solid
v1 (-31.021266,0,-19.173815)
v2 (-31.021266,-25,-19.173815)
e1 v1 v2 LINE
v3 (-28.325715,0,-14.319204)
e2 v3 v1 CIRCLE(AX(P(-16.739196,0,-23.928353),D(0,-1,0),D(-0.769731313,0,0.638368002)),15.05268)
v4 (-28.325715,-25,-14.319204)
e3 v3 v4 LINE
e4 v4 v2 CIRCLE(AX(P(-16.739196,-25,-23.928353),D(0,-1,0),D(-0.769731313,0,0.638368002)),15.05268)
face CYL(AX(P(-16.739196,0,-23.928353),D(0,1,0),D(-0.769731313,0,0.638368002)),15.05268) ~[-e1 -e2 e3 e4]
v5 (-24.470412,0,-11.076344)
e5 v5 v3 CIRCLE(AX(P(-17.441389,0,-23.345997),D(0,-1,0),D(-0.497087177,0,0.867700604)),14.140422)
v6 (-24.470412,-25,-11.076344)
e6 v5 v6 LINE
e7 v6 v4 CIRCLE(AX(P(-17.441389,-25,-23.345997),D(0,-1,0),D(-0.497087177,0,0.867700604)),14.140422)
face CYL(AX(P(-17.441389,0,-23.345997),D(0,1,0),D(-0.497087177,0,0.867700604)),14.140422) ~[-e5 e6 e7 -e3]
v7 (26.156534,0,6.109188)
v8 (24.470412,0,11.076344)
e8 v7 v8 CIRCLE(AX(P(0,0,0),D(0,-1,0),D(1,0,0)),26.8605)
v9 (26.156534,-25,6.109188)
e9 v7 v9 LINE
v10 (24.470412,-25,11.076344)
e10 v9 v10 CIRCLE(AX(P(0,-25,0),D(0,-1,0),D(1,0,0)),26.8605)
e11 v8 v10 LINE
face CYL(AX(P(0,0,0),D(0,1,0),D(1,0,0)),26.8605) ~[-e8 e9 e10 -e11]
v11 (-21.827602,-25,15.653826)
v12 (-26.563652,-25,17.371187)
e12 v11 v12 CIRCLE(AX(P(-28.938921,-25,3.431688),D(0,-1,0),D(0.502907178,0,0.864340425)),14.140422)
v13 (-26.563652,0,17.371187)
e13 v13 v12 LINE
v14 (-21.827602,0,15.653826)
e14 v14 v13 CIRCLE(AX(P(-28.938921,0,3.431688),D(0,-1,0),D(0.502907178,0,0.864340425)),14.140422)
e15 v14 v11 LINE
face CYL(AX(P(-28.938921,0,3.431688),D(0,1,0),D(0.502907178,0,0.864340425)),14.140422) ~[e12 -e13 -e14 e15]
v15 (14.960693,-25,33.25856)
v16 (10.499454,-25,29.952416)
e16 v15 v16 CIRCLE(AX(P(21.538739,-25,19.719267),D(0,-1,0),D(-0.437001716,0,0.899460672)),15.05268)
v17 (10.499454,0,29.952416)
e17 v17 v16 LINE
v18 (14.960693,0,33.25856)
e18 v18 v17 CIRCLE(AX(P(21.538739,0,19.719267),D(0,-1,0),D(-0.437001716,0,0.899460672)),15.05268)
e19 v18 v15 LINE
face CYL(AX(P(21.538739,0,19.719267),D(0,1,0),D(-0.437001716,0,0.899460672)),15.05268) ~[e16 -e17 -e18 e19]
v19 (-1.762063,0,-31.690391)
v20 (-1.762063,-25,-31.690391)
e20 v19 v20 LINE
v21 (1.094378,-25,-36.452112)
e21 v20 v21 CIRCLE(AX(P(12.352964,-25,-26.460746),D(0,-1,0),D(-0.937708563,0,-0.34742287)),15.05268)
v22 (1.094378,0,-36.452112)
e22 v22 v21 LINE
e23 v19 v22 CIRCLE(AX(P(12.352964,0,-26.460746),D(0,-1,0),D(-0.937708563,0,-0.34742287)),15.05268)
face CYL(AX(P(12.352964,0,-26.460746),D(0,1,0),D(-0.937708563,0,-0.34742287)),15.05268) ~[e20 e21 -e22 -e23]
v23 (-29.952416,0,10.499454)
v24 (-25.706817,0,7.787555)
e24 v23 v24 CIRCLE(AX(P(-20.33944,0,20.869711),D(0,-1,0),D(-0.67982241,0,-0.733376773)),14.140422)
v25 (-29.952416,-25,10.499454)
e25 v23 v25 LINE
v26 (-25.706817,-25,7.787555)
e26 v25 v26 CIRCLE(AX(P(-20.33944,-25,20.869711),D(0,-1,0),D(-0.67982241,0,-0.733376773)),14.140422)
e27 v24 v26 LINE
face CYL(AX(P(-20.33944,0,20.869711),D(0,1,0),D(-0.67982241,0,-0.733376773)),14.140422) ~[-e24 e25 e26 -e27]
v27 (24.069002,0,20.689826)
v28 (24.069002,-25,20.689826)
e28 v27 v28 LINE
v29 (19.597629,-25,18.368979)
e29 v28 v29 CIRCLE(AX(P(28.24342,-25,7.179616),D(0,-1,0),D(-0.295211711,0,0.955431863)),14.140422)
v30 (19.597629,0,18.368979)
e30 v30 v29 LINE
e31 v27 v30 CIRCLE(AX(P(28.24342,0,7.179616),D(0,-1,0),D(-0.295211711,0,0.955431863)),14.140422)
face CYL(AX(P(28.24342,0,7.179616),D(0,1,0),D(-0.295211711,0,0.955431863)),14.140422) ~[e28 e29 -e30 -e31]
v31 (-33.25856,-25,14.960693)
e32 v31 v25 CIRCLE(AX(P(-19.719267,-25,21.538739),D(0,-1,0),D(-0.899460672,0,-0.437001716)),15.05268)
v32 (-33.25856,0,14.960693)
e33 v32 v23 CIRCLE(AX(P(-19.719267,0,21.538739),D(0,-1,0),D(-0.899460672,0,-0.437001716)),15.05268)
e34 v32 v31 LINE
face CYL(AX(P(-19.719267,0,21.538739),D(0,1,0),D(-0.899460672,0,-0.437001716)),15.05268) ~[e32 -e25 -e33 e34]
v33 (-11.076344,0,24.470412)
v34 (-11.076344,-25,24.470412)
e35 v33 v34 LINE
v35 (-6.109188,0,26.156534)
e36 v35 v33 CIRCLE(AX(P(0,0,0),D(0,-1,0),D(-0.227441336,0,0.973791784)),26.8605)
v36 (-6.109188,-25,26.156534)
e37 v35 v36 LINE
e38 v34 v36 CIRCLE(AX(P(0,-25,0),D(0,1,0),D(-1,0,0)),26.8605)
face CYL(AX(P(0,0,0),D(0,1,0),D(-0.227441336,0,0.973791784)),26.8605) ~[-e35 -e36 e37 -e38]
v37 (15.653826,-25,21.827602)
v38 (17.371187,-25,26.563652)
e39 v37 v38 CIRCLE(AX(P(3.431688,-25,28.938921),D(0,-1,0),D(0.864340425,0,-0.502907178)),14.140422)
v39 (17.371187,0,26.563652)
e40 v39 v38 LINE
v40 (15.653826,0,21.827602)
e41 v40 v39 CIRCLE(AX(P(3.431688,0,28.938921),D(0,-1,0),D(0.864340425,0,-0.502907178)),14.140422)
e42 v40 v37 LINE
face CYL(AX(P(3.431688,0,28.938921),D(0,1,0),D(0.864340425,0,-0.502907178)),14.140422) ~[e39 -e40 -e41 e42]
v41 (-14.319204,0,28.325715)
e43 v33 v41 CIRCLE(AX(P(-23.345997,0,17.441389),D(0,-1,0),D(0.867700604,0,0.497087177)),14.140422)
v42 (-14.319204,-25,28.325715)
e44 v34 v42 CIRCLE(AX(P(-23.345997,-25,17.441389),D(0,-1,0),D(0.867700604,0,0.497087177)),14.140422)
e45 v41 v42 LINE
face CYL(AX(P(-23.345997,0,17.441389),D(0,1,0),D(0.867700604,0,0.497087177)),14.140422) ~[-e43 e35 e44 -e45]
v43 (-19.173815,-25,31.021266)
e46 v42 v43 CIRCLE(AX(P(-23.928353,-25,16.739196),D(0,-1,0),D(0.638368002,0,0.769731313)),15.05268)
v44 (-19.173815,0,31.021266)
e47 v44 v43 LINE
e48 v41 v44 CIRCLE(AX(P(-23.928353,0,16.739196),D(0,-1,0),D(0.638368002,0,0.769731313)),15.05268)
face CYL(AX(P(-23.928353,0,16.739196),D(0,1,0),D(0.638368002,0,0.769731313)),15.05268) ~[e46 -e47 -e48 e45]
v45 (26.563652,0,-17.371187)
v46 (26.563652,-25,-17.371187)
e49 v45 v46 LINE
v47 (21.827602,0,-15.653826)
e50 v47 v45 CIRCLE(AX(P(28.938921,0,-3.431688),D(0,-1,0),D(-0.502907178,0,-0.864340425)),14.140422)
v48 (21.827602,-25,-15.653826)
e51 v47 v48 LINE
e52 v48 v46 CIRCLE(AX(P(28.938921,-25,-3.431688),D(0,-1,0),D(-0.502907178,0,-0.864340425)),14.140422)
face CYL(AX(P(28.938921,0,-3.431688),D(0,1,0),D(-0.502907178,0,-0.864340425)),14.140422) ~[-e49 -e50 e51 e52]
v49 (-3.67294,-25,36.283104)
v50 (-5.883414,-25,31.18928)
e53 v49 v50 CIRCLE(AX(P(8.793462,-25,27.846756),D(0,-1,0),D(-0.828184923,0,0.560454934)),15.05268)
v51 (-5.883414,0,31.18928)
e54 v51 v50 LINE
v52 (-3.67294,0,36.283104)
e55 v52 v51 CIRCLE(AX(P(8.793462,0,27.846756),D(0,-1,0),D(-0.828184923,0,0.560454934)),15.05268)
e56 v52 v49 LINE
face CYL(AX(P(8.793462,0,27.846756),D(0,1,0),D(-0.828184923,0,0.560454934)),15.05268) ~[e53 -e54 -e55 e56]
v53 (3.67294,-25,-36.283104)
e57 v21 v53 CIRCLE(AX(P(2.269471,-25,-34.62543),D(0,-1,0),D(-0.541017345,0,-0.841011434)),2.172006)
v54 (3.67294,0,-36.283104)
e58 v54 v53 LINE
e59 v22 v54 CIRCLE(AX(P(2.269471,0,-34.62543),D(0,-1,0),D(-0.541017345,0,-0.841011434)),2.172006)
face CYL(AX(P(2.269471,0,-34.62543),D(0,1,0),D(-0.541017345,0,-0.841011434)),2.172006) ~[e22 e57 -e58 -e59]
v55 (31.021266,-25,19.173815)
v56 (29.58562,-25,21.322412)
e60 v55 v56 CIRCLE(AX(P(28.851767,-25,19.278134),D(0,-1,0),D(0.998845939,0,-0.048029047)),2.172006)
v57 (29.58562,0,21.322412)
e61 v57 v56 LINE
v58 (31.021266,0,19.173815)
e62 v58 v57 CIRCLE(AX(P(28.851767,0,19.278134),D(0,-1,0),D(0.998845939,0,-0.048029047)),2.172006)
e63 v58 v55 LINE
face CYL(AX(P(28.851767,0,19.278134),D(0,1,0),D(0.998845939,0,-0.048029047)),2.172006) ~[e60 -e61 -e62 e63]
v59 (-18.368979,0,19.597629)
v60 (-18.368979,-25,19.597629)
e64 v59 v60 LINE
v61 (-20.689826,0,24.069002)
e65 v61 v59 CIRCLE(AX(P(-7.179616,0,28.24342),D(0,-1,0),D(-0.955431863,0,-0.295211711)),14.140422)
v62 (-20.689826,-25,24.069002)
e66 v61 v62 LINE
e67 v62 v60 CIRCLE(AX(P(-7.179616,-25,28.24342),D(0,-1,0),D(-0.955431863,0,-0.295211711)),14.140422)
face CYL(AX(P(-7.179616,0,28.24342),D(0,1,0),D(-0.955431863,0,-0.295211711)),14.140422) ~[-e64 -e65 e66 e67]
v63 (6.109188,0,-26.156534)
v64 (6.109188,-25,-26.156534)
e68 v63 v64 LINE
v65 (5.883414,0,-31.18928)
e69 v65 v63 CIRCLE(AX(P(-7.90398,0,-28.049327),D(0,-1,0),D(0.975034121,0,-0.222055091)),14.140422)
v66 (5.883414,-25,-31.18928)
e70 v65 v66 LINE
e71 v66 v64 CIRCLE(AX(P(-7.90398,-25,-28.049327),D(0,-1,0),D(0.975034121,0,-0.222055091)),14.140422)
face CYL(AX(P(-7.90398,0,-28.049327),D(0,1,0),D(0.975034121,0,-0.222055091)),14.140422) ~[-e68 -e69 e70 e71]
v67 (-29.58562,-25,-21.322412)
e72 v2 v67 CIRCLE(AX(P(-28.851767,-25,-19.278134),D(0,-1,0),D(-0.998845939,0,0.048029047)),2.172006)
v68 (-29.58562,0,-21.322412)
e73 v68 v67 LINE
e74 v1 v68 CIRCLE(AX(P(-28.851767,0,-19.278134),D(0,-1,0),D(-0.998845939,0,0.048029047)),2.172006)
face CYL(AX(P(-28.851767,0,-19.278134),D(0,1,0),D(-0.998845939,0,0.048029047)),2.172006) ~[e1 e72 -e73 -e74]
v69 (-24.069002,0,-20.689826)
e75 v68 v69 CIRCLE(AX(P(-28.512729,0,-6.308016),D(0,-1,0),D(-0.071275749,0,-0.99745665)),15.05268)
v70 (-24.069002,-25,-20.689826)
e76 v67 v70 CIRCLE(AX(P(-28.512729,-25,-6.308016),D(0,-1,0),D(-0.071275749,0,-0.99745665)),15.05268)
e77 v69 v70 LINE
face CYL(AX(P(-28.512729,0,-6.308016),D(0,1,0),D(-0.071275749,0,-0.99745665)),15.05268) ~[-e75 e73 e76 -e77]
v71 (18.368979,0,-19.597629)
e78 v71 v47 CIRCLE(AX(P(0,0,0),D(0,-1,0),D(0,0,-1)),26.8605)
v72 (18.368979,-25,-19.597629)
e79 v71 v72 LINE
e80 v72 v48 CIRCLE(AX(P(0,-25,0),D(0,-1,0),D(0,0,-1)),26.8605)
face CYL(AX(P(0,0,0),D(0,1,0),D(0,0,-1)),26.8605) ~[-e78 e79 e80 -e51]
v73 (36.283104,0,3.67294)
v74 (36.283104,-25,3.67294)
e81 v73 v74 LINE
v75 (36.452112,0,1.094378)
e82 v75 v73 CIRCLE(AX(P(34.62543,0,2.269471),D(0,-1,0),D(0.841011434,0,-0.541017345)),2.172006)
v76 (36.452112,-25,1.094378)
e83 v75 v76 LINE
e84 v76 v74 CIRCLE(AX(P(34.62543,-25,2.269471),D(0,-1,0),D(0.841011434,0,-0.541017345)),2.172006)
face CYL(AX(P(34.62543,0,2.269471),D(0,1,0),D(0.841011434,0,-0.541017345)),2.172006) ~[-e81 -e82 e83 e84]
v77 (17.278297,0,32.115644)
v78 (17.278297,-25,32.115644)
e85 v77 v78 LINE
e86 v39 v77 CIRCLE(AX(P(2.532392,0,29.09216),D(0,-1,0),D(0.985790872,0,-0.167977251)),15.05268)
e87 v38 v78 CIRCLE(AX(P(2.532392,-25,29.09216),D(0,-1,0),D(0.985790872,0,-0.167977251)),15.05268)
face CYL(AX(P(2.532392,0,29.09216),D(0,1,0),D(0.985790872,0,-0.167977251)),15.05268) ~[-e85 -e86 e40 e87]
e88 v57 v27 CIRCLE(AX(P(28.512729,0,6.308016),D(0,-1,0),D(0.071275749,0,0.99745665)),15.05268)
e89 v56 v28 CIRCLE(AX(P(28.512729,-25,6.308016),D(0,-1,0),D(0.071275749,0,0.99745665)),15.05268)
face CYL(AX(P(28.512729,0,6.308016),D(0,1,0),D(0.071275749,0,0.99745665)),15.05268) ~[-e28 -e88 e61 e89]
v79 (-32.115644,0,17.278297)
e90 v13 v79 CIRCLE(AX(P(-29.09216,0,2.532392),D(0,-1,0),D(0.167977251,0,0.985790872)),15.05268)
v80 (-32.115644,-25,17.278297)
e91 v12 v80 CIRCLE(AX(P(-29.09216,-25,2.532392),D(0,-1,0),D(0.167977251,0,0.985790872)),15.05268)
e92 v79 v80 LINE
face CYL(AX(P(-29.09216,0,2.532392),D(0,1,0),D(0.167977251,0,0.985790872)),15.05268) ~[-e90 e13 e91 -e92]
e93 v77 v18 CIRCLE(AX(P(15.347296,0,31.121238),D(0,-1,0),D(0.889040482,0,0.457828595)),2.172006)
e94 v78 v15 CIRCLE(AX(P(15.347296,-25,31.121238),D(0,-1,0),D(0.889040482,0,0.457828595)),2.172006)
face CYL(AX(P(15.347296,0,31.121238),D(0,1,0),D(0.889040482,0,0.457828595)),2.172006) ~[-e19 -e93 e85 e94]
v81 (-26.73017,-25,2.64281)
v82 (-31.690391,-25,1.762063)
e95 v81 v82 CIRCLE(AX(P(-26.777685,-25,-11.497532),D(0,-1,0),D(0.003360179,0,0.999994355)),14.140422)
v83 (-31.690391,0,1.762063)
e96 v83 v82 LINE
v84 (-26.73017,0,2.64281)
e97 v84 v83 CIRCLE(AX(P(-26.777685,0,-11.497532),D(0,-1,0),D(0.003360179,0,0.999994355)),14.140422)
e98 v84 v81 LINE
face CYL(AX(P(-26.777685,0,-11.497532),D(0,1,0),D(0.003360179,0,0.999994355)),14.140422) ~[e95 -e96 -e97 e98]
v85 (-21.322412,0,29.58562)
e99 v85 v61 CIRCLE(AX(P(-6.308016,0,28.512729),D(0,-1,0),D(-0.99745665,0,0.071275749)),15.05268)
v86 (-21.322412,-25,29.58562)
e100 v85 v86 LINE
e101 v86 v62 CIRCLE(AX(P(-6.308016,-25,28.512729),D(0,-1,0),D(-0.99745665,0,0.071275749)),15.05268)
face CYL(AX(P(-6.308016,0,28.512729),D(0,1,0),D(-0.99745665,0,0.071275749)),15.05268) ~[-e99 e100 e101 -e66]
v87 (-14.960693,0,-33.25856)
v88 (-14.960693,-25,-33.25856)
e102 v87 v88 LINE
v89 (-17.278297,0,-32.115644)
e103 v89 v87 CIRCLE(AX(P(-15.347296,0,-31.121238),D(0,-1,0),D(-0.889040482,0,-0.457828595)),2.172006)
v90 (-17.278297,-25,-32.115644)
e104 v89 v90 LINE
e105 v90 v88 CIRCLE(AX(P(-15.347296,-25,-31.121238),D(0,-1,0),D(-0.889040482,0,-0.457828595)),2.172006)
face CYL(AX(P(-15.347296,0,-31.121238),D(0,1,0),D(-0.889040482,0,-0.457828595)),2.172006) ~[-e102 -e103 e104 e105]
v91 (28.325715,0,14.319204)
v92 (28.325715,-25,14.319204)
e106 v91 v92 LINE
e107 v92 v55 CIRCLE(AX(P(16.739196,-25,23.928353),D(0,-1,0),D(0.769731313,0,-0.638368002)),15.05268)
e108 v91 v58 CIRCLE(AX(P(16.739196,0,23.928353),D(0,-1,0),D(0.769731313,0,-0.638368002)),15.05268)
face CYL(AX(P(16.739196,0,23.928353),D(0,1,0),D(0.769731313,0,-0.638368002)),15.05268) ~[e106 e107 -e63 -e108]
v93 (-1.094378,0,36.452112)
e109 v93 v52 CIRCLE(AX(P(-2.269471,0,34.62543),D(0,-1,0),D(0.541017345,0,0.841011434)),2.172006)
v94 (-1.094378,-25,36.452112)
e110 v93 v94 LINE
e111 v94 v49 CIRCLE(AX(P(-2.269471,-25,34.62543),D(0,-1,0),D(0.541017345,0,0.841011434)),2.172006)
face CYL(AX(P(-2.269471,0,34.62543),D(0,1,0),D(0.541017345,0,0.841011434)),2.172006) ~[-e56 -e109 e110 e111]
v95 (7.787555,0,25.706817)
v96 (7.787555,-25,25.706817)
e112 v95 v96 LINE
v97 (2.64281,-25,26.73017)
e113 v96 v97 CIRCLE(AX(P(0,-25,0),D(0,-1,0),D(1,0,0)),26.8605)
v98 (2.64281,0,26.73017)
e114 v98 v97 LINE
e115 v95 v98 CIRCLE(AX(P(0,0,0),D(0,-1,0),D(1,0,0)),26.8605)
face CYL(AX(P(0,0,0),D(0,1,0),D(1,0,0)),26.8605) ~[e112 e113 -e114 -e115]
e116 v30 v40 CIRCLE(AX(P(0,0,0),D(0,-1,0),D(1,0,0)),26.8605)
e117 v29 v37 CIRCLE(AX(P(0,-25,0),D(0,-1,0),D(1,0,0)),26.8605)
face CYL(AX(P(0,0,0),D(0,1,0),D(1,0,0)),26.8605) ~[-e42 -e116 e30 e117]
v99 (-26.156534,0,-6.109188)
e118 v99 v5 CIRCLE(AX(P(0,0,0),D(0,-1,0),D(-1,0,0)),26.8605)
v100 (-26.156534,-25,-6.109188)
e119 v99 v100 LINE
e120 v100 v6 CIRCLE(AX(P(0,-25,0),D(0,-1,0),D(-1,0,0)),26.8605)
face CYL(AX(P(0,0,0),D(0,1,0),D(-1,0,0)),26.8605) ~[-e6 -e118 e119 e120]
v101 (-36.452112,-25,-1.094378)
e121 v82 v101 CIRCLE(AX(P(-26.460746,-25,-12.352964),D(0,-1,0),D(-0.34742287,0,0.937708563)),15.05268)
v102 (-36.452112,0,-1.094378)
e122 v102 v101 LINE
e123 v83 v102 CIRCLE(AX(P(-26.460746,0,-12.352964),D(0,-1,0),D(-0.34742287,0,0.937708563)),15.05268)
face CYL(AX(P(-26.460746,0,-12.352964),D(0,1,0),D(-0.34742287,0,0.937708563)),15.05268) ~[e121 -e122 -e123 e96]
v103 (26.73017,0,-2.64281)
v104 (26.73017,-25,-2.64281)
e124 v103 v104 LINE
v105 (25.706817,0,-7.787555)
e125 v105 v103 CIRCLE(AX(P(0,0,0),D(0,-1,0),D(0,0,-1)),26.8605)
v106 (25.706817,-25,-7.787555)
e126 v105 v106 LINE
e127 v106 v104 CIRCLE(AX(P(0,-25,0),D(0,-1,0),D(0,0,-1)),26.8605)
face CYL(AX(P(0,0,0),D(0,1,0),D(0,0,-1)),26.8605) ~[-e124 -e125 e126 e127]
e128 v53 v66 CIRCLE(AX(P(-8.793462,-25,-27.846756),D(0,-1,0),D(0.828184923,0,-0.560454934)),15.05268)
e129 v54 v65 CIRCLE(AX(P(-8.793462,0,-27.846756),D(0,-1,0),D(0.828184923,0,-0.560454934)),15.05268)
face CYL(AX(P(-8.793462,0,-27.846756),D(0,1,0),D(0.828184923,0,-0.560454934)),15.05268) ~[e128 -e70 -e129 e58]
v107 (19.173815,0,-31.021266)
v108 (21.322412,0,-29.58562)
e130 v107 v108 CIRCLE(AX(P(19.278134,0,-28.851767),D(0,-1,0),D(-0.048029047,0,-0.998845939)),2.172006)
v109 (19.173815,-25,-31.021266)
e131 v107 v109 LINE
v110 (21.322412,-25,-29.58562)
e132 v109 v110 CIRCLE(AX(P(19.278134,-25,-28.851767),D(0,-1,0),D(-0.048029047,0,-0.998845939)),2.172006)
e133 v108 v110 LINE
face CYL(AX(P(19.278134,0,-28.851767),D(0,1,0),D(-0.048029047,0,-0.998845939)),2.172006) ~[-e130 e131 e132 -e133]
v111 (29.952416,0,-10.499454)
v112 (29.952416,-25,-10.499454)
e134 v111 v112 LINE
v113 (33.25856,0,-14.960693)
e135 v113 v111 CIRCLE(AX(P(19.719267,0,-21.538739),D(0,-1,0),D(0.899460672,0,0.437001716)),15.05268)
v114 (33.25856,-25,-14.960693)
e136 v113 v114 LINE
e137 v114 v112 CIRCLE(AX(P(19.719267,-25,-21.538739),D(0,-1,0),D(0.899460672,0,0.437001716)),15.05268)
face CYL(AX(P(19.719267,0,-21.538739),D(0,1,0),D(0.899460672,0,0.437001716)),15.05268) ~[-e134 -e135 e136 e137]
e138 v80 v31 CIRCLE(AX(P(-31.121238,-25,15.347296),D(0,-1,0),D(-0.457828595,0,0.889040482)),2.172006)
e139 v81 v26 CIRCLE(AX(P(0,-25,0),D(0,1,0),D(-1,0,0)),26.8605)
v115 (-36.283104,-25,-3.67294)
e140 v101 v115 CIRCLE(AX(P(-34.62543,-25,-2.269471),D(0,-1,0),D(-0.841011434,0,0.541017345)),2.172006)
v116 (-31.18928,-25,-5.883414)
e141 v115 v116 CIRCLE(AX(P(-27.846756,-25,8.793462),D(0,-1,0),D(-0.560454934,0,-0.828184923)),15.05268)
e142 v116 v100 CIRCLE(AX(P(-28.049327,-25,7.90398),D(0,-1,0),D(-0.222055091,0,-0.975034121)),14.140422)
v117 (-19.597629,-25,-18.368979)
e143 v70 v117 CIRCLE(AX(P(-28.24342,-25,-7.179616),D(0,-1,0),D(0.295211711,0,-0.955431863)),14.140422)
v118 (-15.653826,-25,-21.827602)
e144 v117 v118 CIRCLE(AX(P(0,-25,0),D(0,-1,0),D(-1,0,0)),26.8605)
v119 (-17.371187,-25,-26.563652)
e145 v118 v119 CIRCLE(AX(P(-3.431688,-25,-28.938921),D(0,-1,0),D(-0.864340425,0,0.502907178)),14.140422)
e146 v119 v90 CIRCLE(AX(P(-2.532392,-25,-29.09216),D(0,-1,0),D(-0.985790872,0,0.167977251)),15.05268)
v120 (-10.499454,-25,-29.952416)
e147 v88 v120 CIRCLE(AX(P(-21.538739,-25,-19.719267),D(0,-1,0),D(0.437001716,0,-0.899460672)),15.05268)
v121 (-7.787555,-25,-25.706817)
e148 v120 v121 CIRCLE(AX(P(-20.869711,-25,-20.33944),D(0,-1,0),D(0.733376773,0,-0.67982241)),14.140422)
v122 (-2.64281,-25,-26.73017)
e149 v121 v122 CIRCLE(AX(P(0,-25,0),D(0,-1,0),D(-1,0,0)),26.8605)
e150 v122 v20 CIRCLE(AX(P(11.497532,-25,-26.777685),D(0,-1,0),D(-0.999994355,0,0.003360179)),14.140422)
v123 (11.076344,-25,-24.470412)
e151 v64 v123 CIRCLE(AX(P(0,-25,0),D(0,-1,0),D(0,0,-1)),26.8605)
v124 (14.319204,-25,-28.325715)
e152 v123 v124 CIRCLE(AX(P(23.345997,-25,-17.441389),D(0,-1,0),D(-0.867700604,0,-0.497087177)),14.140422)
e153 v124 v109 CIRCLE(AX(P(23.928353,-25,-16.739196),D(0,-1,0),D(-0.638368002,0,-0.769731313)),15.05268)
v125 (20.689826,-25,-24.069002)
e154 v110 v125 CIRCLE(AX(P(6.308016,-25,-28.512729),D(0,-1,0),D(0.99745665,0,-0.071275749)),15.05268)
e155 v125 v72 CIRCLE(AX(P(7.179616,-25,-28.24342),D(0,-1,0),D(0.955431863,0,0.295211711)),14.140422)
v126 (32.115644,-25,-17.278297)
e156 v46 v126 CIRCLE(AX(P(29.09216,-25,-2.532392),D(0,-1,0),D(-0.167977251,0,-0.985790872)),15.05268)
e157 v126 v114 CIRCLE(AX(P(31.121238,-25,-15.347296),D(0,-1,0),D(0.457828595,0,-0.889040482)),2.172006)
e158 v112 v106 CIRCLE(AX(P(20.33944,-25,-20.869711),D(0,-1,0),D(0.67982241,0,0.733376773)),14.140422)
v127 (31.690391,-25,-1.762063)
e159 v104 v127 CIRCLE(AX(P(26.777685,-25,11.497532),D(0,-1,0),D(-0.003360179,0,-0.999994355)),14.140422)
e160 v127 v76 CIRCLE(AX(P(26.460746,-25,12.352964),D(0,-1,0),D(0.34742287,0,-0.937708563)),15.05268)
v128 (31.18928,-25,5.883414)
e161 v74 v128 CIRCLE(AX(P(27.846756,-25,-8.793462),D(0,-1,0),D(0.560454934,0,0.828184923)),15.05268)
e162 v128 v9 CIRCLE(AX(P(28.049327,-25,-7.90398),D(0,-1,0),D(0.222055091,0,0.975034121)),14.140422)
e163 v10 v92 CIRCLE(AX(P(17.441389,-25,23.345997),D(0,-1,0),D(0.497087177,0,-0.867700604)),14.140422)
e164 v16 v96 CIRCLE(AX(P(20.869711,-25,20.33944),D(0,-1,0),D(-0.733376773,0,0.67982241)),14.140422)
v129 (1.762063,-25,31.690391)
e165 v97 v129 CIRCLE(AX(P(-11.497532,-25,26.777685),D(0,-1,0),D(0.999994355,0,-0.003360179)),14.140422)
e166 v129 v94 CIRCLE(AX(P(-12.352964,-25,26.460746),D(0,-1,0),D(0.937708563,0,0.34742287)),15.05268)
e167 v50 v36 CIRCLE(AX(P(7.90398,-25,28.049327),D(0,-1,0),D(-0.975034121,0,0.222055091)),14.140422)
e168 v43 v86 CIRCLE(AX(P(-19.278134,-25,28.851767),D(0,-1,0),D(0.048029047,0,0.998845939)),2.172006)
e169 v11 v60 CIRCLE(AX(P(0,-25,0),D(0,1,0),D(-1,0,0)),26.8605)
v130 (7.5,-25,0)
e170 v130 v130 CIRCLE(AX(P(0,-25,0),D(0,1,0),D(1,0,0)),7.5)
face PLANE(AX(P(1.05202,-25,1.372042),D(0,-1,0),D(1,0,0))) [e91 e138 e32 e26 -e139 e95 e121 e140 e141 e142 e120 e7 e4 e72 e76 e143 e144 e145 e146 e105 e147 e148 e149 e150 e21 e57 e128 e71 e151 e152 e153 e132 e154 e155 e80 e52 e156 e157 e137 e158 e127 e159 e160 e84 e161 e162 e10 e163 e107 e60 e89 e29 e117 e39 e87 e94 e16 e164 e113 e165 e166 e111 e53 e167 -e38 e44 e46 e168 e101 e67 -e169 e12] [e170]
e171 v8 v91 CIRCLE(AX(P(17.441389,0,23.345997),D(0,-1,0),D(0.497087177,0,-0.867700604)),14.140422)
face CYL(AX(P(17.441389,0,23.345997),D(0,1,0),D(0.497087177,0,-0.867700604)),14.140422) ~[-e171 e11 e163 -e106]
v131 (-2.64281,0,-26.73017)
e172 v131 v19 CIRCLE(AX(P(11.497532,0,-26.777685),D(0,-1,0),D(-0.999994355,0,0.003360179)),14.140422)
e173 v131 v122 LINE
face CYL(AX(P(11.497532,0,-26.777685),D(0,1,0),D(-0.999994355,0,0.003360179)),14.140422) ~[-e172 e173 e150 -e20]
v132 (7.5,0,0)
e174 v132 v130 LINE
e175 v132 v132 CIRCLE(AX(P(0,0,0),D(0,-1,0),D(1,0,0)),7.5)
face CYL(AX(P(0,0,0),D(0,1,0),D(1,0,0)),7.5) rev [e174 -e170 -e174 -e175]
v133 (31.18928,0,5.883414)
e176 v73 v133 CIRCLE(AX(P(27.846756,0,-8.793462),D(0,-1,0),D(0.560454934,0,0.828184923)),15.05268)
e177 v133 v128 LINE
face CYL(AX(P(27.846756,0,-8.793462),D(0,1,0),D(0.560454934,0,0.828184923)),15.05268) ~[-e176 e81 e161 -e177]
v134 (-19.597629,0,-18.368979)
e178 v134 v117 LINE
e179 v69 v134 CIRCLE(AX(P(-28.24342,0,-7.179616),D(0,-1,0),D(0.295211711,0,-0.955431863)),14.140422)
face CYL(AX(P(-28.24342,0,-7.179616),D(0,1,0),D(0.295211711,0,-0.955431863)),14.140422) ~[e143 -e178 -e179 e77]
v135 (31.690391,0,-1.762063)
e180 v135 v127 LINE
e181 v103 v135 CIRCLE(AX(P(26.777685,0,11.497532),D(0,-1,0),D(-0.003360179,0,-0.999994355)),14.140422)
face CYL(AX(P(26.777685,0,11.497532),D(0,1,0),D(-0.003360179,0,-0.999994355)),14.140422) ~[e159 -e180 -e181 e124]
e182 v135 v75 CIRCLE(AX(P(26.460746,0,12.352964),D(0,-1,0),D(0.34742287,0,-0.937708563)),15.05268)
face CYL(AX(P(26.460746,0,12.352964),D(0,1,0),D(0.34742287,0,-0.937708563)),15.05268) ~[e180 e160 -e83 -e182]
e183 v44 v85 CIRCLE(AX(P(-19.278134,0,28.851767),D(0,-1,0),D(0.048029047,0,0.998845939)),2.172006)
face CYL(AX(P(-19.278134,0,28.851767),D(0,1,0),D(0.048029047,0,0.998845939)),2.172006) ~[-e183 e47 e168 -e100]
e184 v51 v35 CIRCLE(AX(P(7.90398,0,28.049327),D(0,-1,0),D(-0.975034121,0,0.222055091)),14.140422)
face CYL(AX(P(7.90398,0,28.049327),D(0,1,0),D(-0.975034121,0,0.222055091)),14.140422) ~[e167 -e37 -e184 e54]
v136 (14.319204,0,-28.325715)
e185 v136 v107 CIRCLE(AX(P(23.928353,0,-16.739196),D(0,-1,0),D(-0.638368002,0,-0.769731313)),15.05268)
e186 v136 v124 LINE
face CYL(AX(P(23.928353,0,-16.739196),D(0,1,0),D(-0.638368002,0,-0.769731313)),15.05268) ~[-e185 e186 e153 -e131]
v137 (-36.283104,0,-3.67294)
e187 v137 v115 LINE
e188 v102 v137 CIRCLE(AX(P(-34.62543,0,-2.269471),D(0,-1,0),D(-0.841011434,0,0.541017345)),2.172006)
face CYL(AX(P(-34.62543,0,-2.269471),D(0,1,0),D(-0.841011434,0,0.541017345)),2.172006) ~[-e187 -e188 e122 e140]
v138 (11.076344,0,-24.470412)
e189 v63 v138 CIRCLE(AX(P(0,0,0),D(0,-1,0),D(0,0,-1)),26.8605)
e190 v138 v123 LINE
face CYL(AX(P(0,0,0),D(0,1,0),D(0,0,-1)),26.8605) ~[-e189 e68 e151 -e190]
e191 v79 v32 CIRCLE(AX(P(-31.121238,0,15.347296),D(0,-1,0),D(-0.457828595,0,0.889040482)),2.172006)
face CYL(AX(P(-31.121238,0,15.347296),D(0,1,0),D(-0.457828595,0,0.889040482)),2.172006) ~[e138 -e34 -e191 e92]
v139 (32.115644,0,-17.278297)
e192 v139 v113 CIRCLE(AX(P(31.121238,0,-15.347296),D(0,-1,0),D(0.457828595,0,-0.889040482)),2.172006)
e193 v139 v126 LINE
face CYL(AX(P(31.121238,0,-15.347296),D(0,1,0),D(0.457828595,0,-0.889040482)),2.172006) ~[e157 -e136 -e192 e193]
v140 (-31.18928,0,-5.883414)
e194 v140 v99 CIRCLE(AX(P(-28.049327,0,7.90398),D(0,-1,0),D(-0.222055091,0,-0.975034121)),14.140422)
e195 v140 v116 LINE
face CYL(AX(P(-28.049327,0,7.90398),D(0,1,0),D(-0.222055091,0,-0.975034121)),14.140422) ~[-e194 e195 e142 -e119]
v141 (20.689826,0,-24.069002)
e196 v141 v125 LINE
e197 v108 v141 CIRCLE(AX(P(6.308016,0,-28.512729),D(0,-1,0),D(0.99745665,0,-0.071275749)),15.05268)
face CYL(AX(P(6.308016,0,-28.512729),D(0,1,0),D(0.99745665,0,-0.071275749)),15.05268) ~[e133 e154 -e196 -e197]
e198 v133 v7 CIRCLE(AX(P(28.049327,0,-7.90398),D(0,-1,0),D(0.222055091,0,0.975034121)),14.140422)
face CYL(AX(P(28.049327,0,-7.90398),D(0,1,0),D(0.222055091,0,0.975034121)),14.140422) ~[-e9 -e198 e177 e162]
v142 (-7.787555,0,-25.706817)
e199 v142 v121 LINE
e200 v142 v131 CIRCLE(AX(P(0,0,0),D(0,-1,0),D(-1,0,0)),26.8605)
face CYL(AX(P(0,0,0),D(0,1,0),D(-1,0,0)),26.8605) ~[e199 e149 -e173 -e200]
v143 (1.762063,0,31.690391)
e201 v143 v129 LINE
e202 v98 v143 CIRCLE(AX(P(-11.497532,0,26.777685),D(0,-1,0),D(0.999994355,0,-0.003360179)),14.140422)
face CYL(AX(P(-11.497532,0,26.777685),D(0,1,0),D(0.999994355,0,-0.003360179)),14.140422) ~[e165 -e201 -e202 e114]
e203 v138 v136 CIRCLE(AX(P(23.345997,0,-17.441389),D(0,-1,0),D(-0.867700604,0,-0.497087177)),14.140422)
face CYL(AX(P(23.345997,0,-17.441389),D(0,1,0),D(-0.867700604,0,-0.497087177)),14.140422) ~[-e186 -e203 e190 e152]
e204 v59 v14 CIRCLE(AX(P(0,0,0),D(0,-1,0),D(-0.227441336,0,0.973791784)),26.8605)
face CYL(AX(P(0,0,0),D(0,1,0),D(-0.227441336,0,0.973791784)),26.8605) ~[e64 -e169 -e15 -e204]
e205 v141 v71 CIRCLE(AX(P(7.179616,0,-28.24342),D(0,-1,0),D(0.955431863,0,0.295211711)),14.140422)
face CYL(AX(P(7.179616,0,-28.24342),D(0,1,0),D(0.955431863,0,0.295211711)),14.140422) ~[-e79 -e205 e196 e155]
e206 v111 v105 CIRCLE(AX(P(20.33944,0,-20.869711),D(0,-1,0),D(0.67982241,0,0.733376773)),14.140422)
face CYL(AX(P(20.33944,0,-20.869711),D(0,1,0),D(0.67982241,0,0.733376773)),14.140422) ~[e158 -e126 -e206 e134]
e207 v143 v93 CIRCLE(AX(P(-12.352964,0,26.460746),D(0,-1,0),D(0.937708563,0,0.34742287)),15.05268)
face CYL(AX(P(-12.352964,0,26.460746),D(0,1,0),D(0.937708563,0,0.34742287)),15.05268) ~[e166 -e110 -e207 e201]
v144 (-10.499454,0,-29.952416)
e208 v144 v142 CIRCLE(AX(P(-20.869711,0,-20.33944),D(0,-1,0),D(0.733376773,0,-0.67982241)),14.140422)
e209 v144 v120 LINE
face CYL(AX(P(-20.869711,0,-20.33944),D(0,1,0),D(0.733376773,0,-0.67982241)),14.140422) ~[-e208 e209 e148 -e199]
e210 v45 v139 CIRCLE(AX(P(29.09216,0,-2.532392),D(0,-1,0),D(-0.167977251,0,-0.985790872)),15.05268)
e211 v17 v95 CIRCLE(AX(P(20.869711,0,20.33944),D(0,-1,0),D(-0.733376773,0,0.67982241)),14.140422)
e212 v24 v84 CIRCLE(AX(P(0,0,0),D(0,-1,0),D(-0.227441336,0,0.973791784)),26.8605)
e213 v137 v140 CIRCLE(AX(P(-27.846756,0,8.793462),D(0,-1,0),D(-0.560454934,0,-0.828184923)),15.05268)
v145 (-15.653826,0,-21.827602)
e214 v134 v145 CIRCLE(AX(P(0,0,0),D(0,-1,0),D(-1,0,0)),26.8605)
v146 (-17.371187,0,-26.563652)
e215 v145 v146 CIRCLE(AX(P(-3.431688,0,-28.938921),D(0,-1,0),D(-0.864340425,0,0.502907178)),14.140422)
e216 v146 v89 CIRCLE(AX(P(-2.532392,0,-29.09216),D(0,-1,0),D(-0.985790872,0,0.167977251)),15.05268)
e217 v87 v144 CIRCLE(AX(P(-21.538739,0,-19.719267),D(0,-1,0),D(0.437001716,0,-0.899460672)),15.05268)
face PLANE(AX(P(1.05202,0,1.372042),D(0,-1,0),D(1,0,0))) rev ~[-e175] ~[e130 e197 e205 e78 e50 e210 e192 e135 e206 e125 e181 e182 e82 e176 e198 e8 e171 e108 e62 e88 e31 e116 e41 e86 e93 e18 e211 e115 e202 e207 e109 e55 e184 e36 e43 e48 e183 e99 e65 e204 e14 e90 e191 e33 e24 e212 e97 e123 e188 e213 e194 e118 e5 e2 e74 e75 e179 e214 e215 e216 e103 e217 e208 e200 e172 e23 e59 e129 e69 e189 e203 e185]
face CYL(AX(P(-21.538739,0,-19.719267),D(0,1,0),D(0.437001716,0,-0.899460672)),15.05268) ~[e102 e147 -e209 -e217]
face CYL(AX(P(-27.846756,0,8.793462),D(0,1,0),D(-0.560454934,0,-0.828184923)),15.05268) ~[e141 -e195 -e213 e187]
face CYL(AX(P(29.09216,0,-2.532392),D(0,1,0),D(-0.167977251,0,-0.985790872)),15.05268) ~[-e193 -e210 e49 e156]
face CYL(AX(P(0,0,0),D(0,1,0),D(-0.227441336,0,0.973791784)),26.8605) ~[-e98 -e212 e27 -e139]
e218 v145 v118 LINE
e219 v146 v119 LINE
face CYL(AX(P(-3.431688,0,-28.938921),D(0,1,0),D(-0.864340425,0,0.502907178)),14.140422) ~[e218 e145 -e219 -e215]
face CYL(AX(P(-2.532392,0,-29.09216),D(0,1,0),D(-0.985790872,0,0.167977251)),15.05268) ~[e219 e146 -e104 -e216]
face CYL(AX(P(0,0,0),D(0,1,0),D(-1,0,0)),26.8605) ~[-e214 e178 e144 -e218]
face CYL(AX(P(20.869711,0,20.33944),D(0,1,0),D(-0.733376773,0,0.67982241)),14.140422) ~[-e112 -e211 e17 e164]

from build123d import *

# Parameters (mm, degrees)
F0_R     = 7.5
F1_DEPTH = 25
F2_COUNT = 12


with BuildPart() as f1:
    # F0 (on Front) → F1 (new body)
    with BuildSketch(Plane.XZ):
        with BuildLine():
            ThreePointArc((-6.1091880069, 26.1565342151), (-16.6941698774, -21.0426032694), (26.8605, 0))
            ThreePointArc((26.8605, 0), (19.9056984907, 18.0346784792), (2.6428102438, 26.730170487))
            ThreePointArc((2.6428102438, 26.730170487), (-1.7567607527, 26.8029896077), (-6.1091880069, 26.1565342151))
        make_face()
        Circle(F0_R, mode=Mode.SUBTRACT)
        with BuildLine():
            ThreePointArc((-6.1091880069, 26.1565342151), (-1.7567607527, 26.8029896077), (2.6428102438, 26.730170487))
            ThreePointArc((2.6428102438, 26.730170487), (2.4251144776, 29.2498198282), (1.7620628695, 31.6903908298))
            ThreePointArc((1.7620628695, 31.6903908298), (0.5553108285, 34.2041049192), (-1.0943776943, 36.4521122122))
            ThreePointArc((-1.0943776943, 36.4521122122), (-2.4115265943, 36.792785897), (-3.672940264, 36.2831042923))
            ThreePointArc((-3.672940264, 36.2831042923), (-5.0150916407, 33.8390014521), (-5.8834142223, 31.1892797863))
            ThreePointArc((-5.8834142223, 31.1892797863), (-6.2222348924, 28.6830426063), (-6.1091880069, 26.1565342151))
        make_face()
    extrude(amount=F1_DEPTH)

    # F2: F1 ×12 about axis
    f2_axis = Axis((0, 0, 0), (0, 1, 0))


with BuildPart() as f1_1:
    add(f1.part)
    for i in range(1, F2_COUNT):
        add(f1.part.rotate(f2_axis, i * 360 / F2_COUNT))


solid = f1_1.part
